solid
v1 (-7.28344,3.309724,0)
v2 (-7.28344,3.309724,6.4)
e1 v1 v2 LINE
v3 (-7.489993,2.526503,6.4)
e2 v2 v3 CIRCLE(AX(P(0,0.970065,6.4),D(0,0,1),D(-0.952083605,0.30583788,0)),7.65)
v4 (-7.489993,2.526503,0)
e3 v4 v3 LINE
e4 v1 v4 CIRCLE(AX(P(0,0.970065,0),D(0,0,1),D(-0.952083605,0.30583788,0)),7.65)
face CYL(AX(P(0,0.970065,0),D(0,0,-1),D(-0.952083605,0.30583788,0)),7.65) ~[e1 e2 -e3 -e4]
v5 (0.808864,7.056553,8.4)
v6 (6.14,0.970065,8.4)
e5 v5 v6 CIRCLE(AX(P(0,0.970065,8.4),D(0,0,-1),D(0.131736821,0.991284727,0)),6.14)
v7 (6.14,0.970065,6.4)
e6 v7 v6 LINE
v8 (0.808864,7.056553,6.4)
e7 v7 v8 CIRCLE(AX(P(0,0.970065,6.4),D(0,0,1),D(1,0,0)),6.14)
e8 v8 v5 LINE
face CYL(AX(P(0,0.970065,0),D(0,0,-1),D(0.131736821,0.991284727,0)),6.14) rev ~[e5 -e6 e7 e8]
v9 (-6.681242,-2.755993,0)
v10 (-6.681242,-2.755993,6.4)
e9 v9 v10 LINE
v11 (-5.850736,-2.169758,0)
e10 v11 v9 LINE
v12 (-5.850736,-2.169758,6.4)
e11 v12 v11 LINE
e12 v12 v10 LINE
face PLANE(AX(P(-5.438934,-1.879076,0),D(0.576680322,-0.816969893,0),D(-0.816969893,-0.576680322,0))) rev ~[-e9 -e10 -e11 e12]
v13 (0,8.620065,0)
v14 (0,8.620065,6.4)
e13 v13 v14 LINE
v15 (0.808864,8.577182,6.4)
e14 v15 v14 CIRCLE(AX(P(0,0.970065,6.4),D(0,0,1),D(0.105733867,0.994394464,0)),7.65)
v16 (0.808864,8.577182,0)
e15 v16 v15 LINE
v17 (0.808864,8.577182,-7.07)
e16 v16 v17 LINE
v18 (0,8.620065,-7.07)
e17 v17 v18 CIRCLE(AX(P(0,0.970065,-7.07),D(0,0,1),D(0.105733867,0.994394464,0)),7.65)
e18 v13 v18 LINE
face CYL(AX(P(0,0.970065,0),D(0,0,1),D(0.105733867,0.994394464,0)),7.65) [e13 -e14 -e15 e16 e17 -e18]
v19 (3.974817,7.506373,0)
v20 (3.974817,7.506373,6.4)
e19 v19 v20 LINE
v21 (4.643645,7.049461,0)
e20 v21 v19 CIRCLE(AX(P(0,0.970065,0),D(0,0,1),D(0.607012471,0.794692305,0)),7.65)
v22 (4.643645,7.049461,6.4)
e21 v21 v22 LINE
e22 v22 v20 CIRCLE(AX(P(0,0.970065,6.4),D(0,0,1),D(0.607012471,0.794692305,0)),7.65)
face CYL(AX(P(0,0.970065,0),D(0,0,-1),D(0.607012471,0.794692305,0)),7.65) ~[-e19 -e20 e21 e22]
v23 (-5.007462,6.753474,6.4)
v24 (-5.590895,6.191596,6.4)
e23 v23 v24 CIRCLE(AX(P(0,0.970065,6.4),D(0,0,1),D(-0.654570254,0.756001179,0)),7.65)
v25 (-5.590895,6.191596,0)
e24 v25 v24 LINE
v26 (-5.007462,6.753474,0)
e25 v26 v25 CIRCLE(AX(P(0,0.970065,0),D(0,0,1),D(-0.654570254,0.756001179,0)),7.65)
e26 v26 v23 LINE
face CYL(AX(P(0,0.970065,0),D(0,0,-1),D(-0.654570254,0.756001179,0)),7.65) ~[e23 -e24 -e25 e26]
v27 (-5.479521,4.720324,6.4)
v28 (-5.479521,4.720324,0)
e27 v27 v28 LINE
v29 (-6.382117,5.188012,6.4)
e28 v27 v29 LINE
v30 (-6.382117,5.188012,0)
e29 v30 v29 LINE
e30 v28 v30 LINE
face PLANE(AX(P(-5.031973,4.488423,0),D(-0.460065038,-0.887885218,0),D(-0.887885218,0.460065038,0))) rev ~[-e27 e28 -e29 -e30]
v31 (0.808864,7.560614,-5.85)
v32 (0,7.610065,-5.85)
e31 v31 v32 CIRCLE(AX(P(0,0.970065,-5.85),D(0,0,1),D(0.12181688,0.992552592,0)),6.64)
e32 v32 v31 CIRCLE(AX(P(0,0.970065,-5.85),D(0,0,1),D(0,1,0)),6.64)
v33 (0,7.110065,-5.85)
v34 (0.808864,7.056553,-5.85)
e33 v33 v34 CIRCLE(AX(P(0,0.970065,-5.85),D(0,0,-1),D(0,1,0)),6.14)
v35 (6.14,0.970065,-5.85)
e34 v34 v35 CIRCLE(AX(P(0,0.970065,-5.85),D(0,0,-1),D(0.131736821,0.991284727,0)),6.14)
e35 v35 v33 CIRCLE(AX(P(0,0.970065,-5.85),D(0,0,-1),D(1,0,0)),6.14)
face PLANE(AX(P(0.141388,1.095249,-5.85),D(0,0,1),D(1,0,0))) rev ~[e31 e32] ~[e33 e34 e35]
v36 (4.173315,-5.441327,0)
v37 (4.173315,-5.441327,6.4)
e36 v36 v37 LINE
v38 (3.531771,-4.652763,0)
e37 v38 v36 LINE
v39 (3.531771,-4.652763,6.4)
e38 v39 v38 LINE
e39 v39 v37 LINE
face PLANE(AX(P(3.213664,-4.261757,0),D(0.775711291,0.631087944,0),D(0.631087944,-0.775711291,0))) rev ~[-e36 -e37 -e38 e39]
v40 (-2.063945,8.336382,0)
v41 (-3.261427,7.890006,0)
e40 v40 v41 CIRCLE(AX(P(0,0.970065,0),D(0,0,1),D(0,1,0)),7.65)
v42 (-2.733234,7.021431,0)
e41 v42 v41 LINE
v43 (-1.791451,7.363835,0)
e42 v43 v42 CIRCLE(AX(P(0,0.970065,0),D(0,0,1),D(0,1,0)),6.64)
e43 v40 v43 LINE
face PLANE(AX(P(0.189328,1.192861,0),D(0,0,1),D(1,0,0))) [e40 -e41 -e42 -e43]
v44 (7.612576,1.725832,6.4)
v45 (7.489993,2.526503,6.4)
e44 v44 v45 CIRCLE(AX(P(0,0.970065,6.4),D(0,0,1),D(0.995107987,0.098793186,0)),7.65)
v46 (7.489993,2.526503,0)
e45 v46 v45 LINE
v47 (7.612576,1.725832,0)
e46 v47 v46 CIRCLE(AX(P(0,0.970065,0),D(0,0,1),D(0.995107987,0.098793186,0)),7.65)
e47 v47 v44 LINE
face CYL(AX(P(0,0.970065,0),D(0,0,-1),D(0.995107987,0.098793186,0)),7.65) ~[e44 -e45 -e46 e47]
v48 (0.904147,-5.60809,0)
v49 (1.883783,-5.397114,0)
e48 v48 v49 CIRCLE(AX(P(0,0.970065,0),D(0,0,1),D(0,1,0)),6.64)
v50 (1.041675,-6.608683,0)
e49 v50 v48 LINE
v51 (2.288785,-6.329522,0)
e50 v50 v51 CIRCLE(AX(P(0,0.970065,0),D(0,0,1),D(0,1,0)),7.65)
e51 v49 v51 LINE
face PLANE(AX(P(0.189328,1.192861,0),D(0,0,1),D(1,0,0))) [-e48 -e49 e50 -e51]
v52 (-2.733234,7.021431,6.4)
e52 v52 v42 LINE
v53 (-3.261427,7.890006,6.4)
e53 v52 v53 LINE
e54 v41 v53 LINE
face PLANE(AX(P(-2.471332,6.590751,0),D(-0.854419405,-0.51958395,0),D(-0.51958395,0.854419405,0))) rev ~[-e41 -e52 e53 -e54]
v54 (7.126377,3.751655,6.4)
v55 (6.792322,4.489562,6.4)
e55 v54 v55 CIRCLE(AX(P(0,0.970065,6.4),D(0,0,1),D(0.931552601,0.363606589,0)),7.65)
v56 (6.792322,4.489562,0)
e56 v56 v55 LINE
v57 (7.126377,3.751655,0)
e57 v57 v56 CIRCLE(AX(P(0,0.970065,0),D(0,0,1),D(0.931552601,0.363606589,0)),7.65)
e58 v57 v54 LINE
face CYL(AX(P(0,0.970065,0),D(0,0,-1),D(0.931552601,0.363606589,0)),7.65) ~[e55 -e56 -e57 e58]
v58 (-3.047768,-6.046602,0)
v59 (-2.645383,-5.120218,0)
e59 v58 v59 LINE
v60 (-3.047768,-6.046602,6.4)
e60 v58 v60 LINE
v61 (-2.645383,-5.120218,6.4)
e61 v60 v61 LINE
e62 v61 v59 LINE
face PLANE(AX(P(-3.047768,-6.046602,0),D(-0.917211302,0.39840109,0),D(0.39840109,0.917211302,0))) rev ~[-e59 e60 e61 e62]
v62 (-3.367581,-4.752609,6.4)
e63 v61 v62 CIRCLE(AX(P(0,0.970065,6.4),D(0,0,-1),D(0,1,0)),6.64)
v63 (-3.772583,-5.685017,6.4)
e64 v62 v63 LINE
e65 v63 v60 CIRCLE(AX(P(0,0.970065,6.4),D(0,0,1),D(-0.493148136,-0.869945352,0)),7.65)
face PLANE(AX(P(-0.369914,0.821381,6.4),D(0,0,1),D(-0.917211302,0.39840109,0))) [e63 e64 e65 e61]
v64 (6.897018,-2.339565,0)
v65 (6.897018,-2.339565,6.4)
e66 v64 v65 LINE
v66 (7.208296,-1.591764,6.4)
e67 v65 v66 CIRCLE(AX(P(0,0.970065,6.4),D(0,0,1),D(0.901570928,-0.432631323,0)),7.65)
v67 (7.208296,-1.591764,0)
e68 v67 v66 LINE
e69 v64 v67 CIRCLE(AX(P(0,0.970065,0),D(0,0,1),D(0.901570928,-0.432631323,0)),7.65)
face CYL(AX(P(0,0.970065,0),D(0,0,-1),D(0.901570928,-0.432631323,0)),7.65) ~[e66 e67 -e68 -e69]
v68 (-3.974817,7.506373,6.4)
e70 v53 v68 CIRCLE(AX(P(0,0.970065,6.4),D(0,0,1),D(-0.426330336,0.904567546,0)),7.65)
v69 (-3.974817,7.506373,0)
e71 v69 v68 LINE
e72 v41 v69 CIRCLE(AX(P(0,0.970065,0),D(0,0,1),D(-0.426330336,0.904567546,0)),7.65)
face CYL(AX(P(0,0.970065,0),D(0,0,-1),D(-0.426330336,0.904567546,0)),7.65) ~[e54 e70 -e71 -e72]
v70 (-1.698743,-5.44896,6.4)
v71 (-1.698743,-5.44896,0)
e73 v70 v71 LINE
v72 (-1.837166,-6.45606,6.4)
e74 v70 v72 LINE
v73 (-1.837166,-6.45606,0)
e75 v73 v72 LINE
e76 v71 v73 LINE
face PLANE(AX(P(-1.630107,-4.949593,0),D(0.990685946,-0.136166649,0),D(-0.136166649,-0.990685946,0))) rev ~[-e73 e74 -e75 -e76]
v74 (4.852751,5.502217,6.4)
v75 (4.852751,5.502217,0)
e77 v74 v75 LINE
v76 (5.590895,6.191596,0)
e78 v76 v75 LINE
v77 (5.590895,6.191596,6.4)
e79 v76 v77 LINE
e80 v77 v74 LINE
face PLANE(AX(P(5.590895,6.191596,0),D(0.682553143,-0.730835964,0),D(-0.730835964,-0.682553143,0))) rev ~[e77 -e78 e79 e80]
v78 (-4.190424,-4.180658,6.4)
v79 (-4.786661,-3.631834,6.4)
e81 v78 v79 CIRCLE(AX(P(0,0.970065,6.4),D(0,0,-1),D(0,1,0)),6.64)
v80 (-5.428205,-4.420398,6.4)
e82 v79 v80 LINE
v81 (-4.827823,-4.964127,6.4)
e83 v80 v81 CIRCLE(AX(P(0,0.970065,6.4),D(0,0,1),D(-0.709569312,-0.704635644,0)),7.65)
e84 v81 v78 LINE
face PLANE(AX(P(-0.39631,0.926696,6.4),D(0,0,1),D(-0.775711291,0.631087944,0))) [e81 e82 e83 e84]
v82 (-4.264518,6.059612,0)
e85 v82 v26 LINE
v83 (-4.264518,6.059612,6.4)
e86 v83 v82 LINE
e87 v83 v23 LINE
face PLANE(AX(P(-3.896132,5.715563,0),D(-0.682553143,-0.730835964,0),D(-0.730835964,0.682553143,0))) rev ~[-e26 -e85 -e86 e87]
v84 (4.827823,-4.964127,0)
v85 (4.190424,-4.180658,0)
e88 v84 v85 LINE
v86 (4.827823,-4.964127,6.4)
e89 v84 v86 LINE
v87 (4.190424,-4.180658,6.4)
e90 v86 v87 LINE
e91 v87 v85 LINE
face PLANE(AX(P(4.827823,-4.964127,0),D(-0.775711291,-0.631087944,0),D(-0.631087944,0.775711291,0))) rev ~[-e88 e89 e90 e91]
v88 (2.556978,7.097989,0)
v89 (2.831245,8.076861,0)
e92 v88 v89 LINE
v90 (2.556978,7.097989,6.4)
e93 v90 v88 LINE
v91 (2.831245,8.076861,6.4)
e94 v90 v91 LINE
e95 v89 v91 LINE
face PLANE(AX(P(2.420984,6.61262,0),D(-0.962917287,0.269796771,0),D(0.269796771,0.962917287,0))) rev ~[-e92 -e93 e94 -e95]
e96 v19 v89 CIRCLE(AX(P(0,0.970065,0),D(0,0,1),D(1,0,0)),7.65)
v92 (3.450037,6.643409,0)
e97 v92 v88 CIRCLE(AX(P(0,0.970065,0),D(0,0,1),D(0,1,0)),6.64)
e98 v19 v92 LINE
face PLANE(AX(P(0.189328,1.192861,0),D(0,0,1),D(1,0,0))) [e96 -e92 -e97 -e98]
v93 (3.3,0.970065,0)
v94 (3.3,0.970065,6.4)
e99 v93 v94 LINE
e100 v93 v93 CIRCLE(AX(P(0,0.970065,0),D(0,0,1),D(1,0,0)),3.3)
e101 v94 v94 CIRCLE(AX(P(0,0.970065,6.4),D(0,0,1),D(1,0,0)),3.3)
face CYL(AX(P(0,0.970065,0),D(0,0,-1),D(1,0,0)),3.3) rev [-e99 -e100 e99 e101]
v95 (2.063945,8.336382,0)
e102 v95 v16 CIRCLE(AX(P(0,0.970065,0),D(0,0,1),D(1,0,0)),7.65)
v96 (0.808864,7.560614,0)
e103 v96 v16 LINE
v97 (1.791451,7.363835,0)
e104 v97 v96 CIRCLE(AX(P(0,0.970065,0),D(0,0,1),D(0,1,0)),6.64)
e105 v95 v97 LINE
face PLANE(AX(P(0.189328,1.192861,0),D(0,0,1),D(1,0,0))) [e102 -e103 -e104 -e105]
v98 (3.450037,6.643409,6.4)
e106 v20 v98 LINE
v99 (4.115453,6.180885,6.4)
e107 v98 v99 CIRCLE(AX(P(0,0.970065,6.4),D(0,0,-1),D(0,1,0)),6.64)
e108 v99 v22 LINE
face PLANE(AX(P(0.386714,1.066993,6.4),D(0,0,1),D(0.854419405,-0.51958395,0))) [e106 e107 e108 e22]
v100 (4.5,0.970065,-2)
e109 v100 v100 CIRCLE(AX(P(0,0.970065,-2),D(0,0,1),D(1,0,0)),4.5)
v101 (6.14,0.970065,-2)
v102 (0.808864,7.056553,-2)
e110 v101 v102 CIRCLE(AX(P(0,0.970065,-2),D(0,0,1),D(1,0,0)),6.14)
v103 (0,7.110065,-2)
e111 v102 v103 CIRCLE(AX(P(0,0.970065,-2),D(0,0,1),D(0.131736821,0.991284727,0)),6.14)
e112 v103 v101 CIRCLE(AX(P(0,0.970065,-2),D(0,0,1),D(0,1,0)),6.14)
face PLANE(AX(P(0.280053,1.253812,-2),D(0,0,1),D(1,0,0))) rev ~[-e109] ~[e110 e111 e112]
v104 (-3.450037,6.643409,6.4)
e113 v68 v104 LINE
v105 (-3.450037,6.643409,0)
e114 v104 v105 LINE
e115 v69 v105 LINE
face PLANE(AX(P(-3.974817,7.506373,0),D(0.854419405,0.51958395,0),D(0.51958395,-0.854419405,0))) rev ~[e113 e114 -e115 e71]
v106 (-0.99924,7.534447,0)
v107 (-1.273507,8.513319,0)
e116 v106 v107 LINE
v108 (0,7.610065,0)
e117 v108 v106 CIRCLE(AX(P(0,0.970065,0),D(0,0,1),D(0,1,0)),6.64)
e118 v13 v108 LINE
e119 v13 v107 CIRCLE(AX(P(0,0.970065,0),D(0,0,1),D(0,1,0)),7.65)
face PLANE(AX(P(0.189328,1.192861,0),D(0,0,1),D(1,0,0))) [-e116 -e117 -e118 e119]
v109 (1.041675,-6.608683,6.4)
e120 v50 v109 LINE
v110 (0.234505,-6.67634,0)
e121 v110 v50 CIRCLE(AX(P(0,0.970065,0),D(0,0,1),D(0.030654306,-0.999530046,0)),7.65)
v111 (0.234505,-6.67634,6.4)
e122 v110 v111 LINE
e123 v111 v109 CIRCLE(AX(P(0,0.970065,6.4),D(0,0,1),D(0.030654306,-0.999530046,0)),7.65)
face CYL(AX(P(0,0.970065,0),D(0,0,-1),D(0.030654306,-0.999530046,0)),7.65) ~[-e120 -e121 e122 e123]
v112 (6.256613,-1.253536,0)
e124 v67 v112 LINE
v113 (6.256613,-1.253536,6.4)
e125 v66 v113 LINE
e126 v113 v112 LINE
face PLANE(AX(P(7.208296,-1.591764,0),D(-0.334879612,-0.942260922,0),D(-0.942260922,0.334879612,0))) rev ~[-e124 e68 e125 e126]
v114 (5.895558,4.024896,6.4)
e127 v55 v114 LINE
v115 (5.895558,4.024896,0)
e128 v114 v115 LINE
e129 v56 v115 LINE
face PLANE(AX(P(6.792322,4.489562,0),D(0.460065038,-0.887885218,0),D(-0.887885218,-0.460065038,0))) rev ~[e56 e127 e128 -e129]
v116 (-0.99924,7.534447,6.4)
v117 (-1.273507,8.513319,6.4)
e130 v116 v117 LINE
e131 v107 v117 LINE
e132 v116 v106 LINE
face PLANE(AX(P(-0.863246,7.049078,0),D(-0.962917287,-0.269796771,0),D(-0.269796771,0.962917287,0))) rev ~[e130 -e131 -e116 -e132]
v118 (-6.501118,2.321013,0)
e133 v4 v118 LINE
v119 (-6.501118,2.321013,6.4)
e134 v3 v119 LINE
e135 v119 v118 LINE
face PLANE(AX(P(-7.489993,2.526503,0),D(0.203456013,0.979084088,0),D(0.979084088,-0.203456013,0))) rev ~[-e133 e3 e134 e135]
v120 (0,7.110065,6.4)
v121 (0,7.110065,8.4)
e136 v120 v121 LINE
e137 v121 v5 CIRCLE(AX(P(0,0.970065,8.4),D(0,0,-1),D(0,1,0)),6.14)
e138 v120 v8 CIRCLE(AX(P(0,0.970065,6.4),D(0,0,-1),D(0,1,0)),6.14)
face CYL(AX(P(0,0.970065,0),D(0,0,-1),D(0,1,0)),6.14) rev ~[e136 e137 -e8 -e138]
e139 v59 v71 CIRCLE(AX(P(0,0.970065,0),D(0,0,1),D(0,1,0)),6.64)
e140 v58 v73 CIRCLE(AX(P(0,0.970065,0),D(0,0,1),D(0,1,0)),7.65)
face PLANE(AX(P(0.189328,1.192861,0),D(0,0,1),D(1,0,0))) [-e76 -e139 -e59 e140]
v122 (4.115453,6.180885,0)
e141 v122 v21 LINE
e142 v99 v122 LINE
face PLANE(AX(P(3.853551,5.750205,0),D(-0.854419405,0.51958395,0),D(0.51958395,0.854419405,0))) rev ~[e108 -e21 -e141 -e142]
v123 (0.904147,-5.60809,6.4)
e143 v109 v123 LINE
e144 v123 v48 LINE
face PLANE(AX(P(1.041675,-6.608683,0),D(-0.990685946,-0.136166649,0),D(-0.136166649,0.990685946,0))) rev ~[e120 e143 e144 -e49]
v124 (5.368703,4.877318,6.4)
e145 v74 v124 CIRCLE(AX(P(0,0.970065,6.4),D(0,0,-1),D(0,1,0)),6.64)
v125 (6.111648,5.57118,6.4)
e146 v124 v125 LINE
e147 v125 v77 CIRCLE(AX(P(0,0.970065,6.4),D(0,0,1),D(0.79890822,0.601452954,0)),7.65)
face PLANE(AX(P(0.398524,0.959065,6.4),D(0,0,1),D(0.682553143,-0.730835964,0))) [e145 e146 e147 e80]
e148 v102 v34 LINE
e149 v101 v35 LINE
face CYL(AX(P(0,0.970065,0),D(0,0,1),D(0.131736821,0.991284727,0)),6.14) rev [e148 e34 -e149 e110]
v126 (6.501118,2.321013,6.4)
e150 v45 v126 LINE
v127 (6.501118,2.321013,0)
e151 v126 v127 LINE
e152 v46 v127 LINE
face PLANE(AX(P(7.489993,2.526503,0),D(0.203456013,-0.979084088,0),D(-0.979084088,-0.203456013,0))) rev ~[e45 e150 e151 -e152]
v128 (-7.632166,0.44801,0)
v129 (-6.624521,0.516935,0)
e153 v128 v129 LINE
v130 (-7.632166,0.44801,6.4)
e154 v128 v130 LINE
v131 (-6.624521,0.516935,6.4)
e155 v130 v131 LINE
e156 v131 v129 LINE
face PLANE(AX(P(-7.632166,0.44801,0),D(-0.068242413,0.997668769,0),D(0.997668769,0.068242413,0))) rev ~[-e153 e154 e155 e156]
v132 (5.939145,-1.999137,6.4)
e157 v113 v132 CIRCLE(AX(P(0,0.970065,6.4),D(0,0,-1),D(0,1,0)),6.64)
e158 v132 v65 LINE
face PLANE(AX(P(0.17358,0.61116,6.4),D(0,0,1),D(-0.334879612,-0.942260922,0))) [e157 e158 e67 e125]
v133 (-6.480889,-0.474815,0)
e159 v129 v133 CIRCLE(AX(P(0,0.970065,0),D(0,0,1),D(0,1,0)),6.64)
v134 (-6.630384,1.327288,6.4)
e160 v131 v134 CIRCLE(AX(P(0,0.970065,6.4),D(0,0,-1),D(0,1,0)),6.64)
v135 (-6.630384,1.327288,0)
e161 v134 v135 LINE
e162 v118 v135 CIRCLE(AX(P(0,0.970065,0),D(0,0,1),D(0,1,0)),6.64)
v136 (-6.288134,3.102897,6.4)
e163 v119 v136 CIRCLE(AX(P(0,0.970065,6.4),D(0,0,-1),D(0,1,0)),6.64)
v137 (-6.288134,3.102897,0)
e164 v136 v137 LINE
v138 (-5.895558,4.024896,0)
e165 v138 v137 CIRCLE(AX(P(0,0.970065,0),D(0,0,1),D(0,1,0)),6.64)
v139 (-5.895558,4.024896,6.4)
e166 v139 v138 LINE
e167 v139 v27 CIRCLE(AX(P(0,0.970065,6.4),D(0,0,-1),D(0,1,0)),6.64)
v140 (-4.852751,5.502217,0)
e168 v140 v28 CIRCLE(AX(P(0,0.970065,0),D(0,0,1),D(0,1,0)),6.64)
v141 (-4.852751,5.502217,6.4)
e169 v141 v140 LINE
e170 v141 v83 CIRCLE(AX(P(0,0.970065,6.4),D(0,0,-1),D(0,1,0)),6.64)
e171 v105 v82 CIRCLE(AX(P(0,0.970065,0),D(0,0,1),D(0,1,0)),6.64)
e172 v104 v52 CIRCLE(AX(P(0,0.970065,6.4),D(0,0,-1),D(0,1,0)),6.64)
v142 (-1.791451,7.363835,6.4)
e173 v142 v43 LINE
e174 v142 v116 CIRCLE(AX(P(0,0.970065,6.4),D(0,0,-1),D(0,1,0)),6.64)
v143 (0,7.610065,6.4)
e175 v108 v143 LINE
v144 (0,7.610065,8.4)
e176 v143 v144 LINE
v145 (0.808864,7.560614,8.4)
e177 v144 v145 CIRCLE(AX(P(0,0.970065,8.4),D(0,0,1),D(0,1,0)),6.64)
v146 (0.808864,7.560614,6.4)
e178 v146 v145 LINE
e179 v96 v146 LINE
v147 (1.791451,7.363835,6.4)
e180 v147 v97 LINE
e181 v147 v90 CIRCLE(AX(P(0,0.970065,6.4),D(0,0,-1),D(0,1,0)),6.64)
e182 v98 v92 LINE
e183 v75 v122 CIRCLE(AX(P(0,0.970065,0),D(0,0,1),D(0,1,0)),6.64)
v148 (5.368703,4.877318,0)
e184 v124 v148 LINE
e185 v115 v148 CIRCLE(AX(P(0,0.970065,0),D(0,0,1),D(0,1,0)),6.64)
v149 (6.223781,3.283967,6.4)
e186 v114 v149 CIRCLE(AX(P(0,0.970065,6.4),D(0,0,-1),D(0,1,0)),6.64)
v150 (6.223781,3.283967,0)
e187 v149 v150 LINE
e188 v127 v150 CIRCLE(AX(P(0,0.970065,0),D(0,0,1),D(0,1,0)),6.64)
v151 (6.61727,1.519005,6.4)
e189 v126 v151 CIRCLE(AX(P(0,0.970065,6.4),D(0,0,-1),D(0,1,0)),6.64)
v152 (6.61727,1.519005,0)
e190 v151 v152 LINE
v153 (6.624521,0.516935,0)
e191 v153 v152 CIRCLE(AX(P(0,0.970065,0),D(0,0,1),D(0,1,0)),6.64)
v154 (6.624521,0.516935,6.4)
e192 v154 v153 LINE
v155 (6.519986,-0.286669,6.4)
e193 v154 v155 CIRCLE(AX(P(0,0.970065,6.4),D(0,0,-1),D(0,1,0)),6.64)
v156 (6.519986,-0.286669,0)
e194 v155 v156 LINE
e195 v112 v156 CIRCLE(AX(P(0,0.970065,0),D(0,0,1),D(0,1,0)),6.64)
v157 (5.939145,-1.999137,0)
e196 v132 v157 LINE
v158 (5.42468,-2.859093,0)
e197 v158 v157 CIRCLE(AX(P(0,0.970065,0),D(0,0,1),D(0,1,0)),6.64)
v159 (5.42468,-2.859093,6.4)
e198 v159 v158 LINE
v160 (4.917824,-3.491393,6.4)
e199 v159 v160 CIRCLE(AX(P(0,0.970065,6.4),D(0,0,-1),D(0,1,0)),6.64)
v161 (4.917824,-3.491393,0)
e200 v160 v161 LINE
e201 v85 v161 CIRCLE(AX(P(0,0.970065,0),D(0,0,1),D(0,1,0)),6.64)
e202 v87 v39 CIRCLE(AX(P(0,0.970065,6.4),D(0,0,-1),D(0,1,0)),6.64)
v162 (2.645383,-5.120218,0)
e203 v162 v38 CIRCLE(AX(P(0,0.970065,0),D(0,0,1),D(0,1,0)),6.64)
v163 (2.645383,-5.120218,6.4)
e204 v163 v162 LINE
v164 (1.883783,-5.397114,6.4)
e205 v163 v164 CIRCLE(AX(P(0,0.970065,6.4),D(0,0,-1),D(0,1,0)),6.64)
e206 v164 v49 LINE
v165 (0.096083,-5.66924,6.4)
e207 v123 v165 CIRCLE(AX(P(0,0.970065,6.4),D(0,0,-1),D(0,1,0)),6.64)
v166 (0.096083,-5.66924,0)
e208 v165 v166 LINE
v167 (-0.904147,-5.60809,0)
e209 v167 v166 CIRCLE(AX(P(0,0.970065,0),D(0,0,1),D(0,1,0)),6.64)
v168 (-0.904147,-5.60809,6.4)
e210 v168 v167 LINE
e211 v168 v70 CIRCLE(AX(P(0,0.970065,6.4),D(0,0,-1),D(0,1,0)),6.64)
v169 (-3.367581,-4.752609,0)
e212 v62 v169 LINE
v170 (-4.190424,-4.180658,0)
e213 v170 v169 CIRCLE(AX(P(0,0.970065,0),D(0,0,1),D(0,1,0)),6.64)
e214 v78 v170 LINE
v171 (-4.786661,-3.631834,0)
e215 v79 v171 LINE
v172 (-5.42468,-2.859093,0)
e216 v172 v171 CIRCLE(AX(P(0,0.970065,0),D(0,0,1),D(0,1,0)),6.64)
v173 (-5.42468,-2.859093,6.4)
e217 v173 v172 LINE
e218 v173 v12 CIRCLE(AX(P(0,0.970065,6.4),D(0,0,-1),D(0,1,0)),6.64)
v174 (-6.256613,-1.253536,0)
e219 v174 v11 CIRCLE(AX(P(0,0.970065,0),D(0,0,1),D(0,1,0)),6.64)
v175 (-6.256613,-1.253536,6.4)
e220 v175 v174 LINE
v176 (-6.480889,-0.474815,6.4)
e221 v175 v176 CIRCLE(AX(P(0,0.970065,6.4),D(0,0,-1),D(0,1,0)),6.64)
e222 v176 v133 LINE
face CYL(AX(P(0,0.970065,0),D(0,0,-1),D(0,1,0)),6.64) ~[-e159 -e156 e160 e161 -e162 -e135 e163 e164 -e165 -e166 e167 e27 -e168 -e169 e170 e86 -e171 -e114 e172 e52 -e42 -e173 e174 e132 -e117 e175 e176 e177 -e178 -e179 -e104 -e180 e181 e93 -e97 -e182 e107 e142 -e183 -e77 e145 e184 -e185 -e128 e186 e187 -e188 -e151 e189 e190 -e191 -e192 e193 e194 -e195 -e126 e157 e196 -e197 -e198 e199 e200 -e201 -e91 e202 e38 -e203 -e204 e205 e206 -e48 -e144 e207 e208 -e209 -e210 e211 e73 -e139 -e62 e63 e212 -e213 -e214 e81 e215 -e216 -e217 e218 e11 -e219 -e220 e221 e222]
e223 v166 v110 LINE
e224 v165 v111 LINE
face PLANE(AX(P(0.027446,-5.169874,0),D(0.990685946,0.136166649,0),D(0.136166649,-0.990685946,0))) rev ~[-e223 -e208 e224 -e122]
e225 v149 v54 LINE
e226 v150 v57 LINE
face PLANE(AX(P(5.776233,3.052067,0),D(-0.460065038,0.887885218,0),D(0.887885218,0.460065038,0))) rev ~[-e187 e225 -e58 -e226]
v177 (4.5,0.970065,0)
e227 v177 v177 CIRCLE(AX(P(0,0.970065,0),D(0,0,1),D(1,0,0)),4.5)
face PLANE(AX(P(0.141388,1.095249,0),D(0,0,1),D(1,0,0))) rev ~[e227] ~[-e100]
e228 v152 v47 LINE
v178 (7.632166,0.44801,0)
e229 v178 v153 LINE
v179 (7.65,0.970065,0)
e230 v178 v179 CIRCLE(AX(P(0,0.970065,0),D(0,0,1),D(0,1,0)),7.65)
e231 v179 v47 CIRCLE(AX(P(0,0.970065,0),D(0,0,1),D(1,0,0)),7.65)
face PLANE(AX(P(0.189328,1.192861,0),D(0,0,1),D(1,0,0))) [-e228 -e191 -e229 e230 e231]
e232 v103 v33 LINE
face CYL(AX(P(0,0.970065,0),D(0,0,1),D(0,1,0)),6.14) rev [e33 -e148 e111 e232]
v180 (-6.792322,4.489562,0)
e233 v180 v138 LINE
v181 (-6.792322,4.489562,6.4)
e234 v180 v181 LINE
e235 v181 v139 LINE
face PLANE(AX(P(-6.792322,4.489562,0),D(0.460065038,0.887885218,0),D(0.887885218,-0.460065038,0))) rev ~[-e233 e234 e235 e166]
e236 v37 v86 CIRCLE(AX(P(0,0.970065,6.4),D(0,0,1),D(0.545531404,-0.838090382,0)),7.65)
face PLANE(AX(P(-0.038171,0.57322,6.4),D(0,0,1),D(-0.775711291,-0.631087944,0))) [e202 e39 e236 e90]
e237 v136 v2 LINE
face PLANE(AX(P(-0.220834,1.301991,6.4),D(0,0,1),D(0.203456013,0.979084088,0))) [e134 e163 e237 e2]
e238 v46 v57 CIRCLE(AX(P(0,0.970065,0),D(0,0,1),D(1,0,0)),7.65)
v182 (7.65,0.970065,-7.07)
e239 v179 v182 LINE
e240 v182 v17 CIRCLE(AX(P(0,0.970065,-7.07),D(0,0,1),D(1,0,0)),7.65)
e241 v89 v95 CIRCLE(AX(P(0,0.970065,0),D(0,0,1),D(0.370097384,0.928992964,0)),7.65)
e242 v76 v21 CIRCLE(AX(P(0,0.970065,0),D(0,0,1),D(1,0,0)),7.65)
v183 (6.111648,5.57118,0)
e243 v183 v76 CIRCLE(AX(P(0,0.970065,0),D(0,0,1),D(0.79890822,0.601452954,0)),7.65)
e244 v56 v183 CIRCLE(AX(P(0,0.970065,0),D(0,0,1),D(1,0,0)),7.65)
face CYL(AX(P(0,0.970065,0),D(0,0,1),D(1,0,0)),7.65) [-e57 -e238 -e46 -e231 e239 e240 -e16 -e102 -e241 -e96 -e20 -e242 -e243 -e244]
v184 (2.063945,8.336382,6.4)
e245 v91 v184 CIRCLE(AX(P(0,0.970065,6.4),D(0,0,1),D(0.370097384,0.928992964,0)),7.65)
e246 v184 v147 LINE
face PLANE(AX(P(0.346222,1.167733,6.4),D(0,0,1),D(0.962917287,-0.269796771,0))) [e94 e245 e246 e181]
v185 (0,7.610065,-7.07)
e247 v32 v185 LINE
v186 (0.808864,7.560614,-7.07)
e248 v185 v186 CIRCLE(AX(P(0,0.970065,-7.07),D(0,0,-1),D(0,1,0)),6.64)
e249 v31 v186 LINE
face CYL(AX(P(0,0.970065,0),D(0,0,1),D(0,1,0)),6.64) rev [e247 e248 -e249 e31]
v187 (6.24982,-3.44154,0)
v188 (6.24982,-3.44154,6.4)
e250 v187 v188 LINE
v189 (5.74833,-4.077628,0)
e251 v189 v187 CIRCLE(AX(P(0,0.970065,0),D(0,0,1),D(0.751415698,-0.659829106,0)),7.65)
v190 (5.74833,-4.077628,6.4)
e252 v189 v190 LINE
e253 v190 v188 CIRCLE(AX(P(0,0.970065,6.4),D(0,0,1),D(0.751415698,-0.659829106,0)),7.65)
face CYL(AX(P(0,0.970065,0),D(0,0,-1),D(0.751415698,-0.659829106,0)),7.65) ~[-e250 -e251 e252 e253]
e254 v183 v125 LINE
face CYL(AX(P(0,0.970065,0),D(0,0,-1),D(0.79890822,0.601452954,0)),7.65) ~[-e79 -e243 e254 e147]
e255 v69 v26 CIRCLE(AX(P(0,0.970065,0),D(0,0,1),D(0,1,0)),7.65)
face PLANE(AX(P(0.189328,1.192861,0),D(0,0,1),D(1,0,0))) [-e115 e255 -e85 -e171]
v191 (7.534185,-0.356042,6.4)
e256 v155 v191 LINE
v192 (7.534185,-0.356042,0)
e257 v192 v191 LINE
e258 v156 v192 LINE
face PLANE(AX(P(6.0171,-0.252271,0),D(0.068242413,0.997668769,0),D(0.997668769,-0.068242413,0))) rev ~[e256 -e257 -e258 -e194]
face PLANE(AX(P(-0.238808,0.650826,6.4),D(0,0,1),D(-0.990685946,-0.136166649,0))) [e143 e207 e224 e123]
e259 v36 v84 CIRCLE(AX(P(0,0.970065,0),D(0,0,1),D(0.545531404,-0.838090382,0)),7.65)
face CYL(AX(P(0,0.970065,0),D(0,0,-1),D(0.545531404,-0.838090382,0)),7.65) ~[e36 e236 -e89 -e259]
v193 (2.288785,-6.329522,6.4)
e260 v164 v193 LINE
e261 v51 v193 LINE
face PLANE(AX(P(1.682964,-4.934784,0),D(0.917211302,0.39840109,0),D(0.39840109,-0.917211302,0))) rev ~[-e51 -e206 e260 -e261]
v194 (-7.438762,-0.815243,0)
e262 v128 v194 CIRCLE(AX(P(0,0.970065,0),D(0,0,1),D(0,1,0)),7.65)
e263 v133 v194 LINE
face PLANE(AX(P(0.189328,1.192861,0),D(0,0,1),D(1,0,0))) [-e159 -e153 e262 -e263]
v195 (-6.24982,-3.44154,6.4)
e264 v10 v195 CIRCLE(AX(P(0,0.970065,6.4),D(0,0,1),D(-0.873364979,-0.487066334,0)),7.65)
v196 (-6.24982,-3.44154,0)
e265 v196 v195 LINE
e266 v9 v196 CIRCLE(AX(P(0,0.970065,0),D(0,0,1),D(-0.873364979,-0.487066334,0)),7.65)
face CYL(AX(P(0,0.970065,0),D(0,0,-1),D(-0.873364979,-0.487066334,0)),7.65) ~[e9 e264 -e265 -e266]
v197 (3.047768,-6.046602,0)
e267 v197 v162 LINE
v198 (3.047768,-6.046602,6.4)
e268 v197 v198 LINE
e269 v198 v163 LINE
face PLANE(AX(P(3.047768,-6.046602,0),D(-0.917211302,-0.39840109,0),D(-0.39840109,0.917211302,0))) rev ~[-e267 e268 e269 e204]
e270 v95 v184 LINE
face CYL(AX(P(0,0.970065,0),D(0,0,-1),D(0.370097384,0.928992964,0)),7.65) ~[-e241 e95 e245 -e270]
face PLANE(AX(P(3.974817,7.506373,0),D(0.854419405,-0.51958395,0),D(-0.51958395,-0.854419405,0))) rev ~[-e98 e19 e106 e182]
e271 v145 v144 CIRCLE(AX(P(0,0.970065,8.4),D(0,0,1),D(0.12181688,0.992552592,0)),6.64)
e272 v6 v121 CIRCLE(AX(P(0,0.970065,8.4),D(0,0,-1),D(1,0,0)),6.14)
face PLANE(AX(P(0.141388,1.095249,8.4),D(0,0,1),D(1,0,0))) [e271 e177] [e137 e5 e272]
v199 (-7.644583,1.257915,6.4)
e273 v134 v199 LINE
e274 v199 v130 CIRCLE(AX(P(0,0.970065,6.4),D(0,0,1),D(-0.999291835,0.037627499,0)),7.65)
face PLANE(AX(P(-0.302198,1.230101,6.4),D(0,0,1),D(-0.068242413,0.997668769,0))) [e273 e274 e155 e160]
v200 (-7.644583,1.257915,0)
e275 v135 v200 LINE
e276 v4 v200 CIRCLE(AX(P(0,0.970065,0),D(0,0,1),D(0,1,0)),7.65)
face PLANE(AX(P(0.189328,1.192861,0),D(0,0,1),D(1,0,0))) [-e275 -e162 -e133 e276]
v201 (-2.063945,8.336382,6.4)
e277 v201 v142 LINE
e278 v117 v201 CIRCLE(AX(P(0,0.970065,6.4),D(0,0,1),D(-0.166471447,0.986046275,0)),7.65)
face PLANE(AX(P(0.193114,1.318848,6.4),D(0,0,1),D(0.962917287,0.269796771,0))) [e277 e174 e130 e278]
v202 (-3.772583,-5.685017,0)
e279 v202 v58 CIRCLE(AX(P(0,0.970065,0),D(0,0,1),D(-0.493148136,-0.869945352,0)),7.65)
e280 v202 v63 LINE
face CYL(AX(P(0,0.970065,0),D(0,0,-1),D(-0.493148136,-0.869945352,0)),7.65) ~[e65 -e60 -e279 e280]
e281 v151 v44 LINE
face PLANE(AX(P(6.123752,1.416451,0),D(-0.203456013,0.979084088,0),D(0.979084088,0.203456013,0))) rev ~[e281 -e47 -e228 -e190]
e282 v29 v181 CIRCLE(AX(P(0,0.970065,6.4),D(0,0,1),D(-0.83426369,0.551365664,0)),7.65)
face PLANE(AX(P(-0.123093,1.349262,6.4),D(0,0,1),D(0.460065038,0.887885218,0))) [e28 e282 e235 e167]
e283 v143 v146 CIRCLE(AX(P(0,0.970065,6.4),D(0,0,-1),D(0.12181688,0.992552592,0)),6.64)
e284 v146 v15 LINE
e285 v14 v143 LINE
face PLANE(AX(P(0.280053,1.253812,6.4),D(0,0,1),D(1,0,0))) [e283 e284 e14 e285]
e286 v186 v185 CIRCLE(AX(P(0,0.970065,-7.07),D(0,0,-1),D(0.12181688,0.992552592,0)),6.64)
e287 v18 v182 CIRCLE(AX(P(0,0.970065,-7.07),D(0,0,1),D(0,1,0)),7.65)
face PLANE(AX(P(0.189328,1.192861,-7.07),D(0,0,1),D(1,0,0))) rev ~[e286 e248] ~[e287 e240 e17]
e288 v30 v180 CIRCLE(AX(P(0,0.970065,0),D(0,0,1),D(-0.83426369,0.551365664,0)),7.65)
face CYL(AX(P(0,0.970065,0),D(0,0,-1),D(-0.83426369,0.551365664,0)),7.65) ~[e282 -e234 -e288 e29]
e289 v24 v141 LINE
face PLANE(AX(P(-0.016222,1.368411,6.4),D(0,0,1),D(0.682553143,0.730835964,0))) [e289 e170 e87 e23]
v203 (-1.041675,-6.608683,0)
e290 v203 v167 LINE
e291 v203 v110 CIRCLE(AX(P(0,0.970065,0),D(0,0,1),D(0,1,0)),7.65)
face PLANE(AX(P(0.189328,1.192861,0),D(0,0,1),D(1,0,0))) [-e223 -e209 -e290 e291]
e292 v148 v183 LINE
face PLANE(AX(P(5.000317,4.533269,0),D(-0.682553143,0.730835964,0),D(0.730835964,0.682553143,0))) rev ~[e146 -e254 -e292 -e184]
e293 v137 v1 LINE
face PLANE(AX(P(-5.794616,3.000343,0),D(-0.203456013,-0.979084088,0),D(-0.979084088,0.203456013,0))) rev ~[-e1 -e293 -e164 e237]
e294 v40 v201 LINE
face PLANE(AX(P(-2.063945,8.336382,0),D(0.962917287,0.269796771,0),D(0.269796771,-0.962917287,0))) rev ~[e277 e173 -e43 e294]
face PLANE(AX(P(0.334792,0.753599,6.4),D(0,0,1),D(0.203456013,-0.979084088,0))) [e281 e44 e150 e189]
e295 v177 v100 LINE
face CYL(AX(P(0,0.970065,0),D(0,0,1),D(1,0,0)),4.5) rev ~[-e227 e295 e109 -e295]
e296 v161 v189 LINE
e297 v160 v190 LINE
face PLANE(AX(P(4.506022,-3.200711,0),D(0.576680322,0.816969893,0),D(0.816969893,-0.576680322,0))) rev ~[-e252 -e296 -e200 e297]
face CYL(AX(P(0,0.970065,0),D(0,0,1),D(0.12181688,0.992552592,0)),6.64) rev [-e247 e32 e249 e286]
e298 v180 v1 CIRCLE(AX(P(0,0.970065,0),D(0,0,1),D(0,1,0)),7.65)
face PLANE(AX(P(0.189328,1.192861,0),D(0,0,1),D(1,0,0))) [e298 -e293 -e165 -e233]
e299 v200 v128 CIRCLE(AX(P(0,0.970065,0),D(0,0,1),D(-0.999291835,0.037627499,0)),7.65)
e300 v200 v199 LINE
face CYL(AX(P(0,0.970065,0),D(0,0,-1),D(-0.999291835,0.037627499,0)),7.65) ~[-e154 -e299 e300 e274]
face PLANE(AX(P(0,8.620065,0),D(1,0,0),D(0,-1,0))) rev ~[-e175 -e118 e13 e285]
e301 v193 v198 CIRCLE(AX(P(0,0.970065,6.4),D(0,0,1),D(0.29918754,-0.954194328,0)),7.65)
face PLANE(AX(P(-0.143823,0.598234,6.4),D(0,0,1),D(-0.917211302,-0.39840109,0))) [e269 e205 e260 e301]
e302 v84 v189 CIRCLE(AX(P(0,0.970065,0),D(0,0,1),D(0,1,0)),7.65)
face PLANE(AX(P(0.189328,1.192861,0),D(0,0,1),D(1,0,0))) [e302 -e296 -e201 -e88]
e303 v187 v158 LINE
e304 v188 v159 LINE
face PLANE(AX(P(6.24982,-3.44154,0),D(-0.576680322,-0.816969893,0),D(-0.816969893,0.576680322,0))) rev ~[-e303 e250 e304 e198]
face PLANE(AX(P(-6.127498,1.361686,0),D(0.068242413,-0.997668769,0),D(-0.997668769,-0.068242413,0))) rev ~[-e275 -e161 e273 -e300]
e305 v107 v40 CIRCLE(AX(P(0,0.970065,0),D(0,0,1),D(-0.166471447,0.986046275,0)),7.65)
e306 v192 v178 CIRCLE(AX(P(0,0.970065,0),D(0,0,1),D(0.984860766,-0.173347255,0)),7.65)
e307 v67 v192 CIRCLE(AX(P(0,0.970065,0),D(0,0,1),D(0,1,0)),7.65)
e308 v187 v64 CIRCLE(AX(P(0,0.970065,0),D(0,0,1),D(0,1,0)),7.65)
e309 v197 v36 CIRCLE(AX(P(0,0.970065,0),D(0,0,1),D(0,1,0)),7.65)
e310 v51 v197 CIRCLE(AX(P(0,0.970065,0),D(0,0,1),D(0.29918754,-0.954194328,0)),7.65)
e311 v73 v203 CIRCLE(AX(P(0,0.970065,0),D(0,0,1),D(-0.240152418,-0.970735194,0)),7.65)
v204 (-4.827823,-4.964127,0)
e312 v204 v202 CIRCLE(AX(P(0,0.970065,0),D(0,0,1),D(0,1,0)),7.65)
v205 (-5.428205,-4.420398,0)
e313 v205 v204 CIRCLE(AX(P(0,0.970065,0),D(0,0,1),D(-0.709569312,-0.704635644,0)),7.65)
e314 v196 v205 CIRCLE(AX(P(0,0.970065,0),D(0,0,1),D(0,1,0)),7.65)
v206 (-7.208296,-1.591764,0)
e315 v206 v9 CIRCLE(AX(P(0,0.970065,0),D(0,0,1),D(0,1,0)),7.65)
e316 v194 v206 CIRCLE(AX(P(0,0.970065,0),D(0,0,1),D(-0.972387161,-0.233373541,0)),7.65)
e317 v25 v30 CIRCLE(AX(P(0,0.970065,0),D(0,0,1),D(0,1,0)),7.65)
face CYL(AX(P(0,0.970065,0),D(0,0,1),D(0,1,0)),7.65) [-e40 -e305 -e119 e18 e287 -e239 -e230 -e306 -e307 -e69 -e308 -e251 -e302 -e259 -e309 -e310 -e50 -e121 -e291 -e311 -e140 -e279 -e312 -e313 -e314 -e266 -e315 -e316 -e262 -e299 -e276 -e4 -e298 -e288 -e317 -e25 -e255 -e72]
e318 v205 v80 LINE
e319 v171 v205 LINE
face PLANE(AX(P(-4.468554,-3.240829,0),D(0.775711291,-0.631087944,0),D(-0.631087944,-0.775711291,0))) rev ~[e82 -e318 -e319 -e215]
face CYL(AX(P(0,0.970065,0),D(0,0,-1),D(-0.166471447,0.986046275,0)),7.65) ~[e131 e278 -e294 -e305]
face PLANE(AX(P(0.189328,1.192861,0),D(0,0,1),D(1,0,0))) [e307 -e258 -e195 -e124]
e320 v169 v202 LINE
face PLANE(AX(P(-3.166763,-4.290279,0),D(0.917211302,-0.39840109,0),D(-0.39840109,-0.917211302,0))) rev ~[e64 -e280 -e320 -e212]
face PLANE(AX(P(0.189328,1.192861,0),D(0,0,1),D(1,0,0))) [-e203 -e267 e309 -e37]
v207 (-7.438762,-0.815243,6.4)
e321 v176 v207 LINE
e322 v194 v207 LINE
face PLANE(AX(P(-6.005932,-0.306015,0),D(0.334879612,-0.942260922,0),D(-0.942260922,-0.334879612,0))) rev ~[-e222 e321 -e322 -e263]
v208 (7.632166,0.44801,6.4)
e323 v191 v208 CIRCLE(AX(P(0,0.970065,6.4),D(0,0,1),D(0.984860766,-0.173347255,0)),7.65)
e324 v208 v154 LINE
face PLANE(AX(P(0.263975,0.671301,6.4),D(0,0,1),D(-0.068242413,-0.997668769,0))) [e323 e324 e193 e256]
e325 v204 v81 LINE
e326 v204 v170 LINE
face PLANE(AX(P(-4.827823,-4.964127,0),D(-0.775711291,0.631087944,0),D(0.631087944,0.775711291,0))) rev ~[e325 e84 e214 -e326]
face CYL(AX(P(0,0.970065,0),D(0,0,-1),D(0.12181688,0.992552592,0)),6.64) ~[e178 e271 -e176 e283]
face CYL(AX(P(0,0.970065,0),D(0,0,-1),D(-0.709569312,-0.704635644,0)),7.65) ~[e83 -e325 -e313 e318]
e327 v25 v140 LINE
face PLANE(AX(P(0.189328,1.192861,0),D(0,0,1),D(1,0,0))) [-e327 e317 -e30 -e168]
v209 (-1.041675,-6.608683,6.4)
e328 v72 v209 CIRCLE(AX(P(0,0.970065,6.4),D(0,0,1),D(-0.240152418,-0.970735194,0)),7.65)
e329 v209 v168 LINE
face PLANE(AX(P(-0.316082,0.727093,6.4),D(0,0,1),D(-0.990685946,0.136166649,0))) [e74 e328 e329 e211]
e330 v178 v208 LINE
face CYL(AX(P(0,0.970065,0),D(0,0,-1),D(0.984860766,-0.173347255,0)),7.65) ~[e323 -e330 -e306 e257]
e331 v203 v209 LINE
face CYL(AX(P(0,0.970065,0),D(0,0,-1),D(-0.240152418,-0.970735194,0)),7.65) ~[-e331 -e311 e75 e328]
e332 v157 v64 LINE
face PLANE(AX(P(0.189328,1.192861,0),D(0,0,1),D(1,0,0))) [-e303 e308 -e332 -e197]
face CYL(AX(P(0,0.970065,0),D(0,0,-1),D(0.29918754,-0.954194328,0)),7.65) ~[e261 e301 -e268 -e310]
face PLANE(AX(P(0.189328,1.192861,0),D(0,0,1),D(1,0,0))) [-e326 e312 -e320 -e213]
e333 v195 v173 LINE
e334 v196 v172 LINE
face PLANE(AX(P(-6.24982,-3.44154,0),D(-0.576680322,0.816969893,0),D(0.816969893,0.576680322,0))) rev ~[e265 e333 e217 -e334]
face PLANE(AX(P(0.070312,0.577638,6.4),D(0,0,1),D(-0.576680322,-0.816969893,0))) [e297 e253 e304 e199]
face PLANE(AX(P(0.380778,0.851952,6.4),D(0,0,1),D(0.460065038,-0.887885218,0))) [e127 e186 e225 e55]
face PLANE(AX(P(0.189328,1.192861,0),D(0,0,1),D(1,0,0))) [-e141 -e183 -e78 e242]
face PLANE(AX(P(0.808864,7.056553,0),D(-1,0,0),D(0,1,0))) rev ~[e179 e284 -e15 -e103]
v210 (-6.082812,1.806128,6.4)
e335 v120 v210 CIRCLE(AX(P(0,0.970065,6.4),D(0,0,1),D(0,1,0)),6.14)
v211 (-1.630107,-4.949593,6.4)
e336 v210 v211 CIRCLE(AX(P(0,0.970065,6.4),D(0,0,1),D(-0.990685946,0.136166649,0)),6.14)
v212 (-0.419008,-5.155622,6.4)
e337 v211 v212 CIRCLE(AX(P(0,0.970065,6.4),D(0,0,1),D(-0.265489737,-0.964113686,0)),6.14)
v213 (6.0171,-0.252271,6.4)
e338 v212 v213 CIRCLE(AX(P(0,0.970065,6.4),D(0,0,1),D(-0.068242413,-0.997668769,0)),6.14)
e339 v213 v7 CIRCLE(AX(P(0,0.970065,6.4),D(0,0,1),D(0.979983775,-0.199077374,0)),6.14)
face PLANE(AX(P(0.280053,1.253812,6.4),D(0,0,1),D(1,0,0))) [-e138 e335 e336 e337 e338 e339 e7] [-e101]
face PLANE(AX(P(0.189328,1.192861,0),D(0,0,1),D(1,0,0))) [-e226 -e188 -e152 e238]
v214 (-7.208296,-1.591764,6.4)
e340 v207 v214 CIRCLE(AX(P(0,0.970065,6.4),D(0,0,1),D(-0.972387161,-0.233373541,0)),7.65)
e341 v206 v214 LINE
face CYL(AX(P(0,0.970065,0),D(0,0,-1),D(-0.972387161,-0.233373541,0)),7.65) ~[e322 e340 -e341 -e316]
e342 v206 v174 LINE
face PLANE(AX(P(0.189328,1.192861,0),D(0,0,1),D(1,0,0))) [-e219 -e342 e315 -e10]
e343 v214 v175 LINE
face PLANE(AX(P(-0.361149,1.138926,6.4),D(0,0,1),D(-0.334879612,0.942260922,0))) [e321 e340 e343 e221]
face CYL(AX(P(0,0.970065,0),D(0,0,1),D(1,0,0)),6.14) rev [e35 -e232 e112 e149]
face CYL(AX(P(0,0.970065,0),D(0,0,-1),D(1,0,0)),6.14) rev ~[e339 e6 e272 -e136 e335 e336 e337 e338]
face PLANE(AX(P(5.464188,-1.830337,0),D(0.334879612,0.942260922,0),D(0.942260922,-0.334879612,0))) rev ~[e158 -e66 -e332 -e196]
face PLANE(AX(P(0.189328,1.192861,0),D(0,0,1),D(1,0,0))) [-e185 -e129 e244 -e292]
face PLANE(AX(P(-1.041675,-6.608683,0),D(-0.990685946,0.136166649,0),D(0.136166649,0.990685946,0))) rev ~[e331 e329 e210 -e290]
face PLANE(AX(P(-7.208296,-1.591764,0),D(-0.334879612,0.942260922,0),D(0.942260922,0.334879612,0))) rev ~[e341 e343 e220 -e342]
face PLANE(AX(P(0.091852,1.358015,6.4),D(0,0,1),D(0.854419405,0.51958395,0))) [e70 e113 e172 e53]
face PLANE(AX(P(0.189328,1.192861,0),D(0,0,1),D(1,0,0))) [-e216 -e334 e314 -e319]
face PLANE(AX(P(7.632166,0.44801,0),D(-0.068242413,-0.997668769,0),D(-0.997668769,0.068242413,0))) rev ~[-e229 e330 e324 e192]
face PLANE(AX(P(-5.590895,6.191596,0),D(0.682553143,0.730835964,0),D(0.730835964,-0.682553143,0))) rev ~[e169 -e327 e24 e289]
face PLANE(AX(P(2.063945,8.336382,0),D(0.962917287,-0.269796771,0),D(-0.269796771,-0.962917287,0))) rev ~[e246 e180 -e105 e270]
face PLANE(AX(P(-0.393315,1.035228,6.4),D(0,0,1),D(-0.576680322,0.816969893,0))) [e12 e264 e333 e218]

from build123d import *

# Parameters (mm, degrees)
F0_R     = 4.5
F0_R_2   = 3.3
F1_DEPTH = 6.4
F2_DEPTH = 8.4
F4_COUNT = 23
F5_DEPTH = 2
F6_DEPTH = 5.85
F7_DEPTH = 7.07


with BuildPart() as f1:
    # F0 (on Top) → F1 (new body)
    with BuildSketch(Plane.XY):
        with BuildLine():
            ThreePointArc((0, 7.1100645757), (-4.3416356365, -3.3715710607), (6.14, 0.9700645757))
            ThreePointArc((6.14, 0.9700645757), (4.6187674474, 5.0156284755), (0.8088640824, 7.0565527994))
            ThreePointArc((0.8088640824, 7.0565527994), (0.4053161155, 7.0966720257), (0, 7.1100645757))
        make_face()
        with Locations((0, 0.9700645757)):
            Circle(F0_R, mode=Mode.SUBTRACT)
        with Locations((0, 0.9700645757)):
            Circle(F0_R)
        with Locations((0, 0.9700645757)):
            Circle(F0_R_2, mode=Mode.SUBTRACT)
        with BuildLine():
            ThreePointArc((0, 7.6100645757), (0.4051871433, 7.5976903481), (0.8088640824, 7.5606137863))
            Line((0.8088640824, 7.5606137863), (0.8088640824, 8.3760242635))
            ThreePointArc((0.8088640824, 8.3760242635), (0.4050310645, 8.4090463499), (0, 8.4200645757))
            Line((0, 8.4200645757), (0, 7.6100645757))
        make_face()
        with BuildLine():
            ThreePointArc((0, 7.1100645757), (0.4053161155, 7.0966720257), (0.8088640824, 7.0565527994))
            Line((0.8088640824, 7.0565527994), (0.8088640824, 7.5606137863))
            ThreePointArc((0.8088640824, 7.5606137863), (0.4051871433, 7.5976903481), (0, 7.6100645757))
            Line((0, 7.6100645757), (0, 7.1100645757))
        make_face()
        with BuildLine():
            ThreePointArc((0, 8.4200645757), (0.4050310645, 8.4090463499), (0.8088640824, 8.3760242635))
            Line((0.8088640824, 8.3760242635), (0.8088640824, 8.5771822228))
            ThreePointArc((0.8088640824, 8.5771822228), (0.405, 8.6093364651), (0, 8.6200645757))
            Line((0, 8.6200645757), (0, 8.4200645757))
        make_face()
    extrude(amount=F1_DEPTH)



with BuildPart() as f2:
    # F0 (on Top) → F2 (new body)
    with BuildSketch(Plane.XY):
        with BuildLine():
            ThreePointArc((0.8088640824, 7.0565527994), (4.6187674474, 5.0156284755), (6.14, 0.9700645757))
            ThreePointArc((6.14, 0.9700645757), (-4.3416356365, -3.3715710607), (0, 7.1100645757))
            Line((0, 7.1100645757), (0, 7.6100645757))
            ThreePointArc((0, 7.6100645757), (-4.6951890271, -3.7251244513), (6.64, 0.9700645757))
            ThreePointArc((6.64, 0.9700645757), (4.9729497035, 5.3699931259), (0.8088640824, 7.5606137863))
            Line((0.8088640824, 7.5606137863), (0.8088640824, 7.0565527994))
        make_face()
        with BuildLine():
            ThreePointArc((0, 7.1100645757), (0.4053161155, 7.0966720257), (0.8088640824, 7.0565527994))
            Line((0.8088640824, 7.0565527994), (0.8088640824, 7.5606137863))
            ThreePointArc((0.8088640824, 7.5606137863), (0.4051871433, 7.5976903481), (0, 7.6100645757))
            Line((0, 7.6100645757), (0, 7.1100645757))
        make_face()
    extrude(amount=F2_DEPTH)


with BuildPart() as f1_1:
    add(f1.part)

    add(f2.part)  # F4 merges F2
    # F4: F1 ×23 about axis
    f4_axis = Axis((0, 0.9700645757, -1.082088449), (0, 0, -1))
    for i in range(1, F4_COUNT):
        add(f1.part.rotate(f4_axis, i * 360 / F4_COUNT))

    # F0 (on Top) → F5 (join)
    with BuildSketch(Plane.XY):
        with BuildLine():
            ThreePointArc((0, 7.1100645757), (-4.3416356365, -3.3715710607), (6.14, 0.9700645757))
            ThreePointArc((6.14, 0.9700645757), (4.6187674474, 5.0156284755), (0.8088640824, 7.0565527994))
            ThreePointArc((0.8088640824, 7.0565527994), (0.4053161155, 7.0966720257), (0, 7.1100645757))
        make_face()
        with Locations((0, 0.9700645757)):
            Circle(F0_R, mode=Mode.SUBTRACT)
    extrude(amount=-F5_DEPTH)

    # F0 (on Top) → F6 (join)
    with BuildSketch(Plane.XY):
        with BuildLine():
            ThreePointArc((0.8088640824, 7.0565527994), (4.6187674474, 5.0156284755), (6.14, 0.9700645757))
            ThreePointArc((6.14, 0.9700645757), (-4.3416356365, -3.3715710607), (0, 7.1100645757))
            Line((0, 7.1100645757), (0, 7.6100645757))
            ThreePointArc((0, 7.6100645757), (-4.6951890271, -3.7251244513), (6.64, 0.9700645757))
            ThreePointArc((6.64, 0.9700645757), (4.9729497035, 5.3699931259), (0.8088640824, 7.5606137863))
            Line((0.8088640824, 7.5606137863), (0.8088640824, 7.0565527994))
        make_face()
        with BuildLine():
            ThreePointArc((0, 7.1100645757), (0.4053161155, 7.0966720257), (0.8088640824, 7.0565527994))
            Line((0.8088640824, 7.0565527994), (0.8088640824, 7.5606137863))
            ThreePointArc((0.8088640824, 7.5606137863), (0.4051871433, 7.5976903481), (0, 7.6100645757))
            Line((0, 7.6100645757), (0, 7.1100645757))
        make_face()
    extrude(amount=-F6_DEPTH)

    # F0 (on Top) → F7 (join)
    with BuildSketch(Plane.XY):
        with BuildLine():
            Line((0.8088640824, 8.3760242635), (0.8088640824, 7.5606137863))
            ThreePointArc((0.8088640824, 7.5606137863), (4.9729497035, 5.3699931259), (6.64, 0.9700645757))
            ThreePointArc((6.64, 0.9700645757), (-4.6951890271, -3.7251244513), (0, 7.6100645757))
            Line((0, 7.6100645757), (0, 8.4200645757))
            ThreePointArc((0, 8.4200645757), (-5.2679455198, -4.2978809441), (7.45, 0.9700645757))
            ThreePointArc((7.45, 0.9700645757), (5.54655467, 5.9438188211), (0.8088640824, 8.3760242635))
        make_face()
        with BuildLine():
            Line((0.8088640824, 8.5771822228), (0.8088640824, 8.3760242635))
            ThreePointArc((0.8088640824, 8.3760242635), (5.54655467, 5.9438188211), (7.45, 0.9700645757))
            ThreePointArc((7.45, 0.9700645757), (-5.2679455198, -4.2978809441), (0, 8.4200645757))
            Line((0, 8.4200645757), (0, 8.6200645757))
            ThreePointArc((0, 8.6200645757), (-5.4093668761, -4.4393023003), (7.65, 0.9700645757))
            ThreePointArc((7.65, 0.9700645757), (5.6881592027, 6.0854672857), (0.8088640824, 8.5771822228))
        make_face()
        with BuildLine():
            ThreePointArc((0, 7.6100645757), (0.4051871433, 7.5976903481), (0.8088640824, 7.5606137863))
            Line((0.8088640824, 7.5606137863), (0.8088640824, 8.3760242635))
            ThreePointArc((0.8088640824, 8.3760242635), (0.4050310645, 8.4090463499), (0, 8.4200645757))
            Line((0, 8.4200645757), (0, 7.6100645757))
        make_face()
        with BuildLine():
            ThreePointArc((0, 8.4200645757), (0.4050310645, 8.4090463499), (0.8088640824, 8.3760242635))
            Line((0.8088640824, 8.3760242635), (0.8088640824, 8.5771822228))
            ThreePointArc((0.8088640824, 8.5771822228), (0.405, 8.6093364651), (0, 8.6200645757))
            Line((0, 8.6200645757), (0, 8.4200645757))
        make_face()
    extrude(amount=-F7_DEPTH)


solid = f1_1.part
